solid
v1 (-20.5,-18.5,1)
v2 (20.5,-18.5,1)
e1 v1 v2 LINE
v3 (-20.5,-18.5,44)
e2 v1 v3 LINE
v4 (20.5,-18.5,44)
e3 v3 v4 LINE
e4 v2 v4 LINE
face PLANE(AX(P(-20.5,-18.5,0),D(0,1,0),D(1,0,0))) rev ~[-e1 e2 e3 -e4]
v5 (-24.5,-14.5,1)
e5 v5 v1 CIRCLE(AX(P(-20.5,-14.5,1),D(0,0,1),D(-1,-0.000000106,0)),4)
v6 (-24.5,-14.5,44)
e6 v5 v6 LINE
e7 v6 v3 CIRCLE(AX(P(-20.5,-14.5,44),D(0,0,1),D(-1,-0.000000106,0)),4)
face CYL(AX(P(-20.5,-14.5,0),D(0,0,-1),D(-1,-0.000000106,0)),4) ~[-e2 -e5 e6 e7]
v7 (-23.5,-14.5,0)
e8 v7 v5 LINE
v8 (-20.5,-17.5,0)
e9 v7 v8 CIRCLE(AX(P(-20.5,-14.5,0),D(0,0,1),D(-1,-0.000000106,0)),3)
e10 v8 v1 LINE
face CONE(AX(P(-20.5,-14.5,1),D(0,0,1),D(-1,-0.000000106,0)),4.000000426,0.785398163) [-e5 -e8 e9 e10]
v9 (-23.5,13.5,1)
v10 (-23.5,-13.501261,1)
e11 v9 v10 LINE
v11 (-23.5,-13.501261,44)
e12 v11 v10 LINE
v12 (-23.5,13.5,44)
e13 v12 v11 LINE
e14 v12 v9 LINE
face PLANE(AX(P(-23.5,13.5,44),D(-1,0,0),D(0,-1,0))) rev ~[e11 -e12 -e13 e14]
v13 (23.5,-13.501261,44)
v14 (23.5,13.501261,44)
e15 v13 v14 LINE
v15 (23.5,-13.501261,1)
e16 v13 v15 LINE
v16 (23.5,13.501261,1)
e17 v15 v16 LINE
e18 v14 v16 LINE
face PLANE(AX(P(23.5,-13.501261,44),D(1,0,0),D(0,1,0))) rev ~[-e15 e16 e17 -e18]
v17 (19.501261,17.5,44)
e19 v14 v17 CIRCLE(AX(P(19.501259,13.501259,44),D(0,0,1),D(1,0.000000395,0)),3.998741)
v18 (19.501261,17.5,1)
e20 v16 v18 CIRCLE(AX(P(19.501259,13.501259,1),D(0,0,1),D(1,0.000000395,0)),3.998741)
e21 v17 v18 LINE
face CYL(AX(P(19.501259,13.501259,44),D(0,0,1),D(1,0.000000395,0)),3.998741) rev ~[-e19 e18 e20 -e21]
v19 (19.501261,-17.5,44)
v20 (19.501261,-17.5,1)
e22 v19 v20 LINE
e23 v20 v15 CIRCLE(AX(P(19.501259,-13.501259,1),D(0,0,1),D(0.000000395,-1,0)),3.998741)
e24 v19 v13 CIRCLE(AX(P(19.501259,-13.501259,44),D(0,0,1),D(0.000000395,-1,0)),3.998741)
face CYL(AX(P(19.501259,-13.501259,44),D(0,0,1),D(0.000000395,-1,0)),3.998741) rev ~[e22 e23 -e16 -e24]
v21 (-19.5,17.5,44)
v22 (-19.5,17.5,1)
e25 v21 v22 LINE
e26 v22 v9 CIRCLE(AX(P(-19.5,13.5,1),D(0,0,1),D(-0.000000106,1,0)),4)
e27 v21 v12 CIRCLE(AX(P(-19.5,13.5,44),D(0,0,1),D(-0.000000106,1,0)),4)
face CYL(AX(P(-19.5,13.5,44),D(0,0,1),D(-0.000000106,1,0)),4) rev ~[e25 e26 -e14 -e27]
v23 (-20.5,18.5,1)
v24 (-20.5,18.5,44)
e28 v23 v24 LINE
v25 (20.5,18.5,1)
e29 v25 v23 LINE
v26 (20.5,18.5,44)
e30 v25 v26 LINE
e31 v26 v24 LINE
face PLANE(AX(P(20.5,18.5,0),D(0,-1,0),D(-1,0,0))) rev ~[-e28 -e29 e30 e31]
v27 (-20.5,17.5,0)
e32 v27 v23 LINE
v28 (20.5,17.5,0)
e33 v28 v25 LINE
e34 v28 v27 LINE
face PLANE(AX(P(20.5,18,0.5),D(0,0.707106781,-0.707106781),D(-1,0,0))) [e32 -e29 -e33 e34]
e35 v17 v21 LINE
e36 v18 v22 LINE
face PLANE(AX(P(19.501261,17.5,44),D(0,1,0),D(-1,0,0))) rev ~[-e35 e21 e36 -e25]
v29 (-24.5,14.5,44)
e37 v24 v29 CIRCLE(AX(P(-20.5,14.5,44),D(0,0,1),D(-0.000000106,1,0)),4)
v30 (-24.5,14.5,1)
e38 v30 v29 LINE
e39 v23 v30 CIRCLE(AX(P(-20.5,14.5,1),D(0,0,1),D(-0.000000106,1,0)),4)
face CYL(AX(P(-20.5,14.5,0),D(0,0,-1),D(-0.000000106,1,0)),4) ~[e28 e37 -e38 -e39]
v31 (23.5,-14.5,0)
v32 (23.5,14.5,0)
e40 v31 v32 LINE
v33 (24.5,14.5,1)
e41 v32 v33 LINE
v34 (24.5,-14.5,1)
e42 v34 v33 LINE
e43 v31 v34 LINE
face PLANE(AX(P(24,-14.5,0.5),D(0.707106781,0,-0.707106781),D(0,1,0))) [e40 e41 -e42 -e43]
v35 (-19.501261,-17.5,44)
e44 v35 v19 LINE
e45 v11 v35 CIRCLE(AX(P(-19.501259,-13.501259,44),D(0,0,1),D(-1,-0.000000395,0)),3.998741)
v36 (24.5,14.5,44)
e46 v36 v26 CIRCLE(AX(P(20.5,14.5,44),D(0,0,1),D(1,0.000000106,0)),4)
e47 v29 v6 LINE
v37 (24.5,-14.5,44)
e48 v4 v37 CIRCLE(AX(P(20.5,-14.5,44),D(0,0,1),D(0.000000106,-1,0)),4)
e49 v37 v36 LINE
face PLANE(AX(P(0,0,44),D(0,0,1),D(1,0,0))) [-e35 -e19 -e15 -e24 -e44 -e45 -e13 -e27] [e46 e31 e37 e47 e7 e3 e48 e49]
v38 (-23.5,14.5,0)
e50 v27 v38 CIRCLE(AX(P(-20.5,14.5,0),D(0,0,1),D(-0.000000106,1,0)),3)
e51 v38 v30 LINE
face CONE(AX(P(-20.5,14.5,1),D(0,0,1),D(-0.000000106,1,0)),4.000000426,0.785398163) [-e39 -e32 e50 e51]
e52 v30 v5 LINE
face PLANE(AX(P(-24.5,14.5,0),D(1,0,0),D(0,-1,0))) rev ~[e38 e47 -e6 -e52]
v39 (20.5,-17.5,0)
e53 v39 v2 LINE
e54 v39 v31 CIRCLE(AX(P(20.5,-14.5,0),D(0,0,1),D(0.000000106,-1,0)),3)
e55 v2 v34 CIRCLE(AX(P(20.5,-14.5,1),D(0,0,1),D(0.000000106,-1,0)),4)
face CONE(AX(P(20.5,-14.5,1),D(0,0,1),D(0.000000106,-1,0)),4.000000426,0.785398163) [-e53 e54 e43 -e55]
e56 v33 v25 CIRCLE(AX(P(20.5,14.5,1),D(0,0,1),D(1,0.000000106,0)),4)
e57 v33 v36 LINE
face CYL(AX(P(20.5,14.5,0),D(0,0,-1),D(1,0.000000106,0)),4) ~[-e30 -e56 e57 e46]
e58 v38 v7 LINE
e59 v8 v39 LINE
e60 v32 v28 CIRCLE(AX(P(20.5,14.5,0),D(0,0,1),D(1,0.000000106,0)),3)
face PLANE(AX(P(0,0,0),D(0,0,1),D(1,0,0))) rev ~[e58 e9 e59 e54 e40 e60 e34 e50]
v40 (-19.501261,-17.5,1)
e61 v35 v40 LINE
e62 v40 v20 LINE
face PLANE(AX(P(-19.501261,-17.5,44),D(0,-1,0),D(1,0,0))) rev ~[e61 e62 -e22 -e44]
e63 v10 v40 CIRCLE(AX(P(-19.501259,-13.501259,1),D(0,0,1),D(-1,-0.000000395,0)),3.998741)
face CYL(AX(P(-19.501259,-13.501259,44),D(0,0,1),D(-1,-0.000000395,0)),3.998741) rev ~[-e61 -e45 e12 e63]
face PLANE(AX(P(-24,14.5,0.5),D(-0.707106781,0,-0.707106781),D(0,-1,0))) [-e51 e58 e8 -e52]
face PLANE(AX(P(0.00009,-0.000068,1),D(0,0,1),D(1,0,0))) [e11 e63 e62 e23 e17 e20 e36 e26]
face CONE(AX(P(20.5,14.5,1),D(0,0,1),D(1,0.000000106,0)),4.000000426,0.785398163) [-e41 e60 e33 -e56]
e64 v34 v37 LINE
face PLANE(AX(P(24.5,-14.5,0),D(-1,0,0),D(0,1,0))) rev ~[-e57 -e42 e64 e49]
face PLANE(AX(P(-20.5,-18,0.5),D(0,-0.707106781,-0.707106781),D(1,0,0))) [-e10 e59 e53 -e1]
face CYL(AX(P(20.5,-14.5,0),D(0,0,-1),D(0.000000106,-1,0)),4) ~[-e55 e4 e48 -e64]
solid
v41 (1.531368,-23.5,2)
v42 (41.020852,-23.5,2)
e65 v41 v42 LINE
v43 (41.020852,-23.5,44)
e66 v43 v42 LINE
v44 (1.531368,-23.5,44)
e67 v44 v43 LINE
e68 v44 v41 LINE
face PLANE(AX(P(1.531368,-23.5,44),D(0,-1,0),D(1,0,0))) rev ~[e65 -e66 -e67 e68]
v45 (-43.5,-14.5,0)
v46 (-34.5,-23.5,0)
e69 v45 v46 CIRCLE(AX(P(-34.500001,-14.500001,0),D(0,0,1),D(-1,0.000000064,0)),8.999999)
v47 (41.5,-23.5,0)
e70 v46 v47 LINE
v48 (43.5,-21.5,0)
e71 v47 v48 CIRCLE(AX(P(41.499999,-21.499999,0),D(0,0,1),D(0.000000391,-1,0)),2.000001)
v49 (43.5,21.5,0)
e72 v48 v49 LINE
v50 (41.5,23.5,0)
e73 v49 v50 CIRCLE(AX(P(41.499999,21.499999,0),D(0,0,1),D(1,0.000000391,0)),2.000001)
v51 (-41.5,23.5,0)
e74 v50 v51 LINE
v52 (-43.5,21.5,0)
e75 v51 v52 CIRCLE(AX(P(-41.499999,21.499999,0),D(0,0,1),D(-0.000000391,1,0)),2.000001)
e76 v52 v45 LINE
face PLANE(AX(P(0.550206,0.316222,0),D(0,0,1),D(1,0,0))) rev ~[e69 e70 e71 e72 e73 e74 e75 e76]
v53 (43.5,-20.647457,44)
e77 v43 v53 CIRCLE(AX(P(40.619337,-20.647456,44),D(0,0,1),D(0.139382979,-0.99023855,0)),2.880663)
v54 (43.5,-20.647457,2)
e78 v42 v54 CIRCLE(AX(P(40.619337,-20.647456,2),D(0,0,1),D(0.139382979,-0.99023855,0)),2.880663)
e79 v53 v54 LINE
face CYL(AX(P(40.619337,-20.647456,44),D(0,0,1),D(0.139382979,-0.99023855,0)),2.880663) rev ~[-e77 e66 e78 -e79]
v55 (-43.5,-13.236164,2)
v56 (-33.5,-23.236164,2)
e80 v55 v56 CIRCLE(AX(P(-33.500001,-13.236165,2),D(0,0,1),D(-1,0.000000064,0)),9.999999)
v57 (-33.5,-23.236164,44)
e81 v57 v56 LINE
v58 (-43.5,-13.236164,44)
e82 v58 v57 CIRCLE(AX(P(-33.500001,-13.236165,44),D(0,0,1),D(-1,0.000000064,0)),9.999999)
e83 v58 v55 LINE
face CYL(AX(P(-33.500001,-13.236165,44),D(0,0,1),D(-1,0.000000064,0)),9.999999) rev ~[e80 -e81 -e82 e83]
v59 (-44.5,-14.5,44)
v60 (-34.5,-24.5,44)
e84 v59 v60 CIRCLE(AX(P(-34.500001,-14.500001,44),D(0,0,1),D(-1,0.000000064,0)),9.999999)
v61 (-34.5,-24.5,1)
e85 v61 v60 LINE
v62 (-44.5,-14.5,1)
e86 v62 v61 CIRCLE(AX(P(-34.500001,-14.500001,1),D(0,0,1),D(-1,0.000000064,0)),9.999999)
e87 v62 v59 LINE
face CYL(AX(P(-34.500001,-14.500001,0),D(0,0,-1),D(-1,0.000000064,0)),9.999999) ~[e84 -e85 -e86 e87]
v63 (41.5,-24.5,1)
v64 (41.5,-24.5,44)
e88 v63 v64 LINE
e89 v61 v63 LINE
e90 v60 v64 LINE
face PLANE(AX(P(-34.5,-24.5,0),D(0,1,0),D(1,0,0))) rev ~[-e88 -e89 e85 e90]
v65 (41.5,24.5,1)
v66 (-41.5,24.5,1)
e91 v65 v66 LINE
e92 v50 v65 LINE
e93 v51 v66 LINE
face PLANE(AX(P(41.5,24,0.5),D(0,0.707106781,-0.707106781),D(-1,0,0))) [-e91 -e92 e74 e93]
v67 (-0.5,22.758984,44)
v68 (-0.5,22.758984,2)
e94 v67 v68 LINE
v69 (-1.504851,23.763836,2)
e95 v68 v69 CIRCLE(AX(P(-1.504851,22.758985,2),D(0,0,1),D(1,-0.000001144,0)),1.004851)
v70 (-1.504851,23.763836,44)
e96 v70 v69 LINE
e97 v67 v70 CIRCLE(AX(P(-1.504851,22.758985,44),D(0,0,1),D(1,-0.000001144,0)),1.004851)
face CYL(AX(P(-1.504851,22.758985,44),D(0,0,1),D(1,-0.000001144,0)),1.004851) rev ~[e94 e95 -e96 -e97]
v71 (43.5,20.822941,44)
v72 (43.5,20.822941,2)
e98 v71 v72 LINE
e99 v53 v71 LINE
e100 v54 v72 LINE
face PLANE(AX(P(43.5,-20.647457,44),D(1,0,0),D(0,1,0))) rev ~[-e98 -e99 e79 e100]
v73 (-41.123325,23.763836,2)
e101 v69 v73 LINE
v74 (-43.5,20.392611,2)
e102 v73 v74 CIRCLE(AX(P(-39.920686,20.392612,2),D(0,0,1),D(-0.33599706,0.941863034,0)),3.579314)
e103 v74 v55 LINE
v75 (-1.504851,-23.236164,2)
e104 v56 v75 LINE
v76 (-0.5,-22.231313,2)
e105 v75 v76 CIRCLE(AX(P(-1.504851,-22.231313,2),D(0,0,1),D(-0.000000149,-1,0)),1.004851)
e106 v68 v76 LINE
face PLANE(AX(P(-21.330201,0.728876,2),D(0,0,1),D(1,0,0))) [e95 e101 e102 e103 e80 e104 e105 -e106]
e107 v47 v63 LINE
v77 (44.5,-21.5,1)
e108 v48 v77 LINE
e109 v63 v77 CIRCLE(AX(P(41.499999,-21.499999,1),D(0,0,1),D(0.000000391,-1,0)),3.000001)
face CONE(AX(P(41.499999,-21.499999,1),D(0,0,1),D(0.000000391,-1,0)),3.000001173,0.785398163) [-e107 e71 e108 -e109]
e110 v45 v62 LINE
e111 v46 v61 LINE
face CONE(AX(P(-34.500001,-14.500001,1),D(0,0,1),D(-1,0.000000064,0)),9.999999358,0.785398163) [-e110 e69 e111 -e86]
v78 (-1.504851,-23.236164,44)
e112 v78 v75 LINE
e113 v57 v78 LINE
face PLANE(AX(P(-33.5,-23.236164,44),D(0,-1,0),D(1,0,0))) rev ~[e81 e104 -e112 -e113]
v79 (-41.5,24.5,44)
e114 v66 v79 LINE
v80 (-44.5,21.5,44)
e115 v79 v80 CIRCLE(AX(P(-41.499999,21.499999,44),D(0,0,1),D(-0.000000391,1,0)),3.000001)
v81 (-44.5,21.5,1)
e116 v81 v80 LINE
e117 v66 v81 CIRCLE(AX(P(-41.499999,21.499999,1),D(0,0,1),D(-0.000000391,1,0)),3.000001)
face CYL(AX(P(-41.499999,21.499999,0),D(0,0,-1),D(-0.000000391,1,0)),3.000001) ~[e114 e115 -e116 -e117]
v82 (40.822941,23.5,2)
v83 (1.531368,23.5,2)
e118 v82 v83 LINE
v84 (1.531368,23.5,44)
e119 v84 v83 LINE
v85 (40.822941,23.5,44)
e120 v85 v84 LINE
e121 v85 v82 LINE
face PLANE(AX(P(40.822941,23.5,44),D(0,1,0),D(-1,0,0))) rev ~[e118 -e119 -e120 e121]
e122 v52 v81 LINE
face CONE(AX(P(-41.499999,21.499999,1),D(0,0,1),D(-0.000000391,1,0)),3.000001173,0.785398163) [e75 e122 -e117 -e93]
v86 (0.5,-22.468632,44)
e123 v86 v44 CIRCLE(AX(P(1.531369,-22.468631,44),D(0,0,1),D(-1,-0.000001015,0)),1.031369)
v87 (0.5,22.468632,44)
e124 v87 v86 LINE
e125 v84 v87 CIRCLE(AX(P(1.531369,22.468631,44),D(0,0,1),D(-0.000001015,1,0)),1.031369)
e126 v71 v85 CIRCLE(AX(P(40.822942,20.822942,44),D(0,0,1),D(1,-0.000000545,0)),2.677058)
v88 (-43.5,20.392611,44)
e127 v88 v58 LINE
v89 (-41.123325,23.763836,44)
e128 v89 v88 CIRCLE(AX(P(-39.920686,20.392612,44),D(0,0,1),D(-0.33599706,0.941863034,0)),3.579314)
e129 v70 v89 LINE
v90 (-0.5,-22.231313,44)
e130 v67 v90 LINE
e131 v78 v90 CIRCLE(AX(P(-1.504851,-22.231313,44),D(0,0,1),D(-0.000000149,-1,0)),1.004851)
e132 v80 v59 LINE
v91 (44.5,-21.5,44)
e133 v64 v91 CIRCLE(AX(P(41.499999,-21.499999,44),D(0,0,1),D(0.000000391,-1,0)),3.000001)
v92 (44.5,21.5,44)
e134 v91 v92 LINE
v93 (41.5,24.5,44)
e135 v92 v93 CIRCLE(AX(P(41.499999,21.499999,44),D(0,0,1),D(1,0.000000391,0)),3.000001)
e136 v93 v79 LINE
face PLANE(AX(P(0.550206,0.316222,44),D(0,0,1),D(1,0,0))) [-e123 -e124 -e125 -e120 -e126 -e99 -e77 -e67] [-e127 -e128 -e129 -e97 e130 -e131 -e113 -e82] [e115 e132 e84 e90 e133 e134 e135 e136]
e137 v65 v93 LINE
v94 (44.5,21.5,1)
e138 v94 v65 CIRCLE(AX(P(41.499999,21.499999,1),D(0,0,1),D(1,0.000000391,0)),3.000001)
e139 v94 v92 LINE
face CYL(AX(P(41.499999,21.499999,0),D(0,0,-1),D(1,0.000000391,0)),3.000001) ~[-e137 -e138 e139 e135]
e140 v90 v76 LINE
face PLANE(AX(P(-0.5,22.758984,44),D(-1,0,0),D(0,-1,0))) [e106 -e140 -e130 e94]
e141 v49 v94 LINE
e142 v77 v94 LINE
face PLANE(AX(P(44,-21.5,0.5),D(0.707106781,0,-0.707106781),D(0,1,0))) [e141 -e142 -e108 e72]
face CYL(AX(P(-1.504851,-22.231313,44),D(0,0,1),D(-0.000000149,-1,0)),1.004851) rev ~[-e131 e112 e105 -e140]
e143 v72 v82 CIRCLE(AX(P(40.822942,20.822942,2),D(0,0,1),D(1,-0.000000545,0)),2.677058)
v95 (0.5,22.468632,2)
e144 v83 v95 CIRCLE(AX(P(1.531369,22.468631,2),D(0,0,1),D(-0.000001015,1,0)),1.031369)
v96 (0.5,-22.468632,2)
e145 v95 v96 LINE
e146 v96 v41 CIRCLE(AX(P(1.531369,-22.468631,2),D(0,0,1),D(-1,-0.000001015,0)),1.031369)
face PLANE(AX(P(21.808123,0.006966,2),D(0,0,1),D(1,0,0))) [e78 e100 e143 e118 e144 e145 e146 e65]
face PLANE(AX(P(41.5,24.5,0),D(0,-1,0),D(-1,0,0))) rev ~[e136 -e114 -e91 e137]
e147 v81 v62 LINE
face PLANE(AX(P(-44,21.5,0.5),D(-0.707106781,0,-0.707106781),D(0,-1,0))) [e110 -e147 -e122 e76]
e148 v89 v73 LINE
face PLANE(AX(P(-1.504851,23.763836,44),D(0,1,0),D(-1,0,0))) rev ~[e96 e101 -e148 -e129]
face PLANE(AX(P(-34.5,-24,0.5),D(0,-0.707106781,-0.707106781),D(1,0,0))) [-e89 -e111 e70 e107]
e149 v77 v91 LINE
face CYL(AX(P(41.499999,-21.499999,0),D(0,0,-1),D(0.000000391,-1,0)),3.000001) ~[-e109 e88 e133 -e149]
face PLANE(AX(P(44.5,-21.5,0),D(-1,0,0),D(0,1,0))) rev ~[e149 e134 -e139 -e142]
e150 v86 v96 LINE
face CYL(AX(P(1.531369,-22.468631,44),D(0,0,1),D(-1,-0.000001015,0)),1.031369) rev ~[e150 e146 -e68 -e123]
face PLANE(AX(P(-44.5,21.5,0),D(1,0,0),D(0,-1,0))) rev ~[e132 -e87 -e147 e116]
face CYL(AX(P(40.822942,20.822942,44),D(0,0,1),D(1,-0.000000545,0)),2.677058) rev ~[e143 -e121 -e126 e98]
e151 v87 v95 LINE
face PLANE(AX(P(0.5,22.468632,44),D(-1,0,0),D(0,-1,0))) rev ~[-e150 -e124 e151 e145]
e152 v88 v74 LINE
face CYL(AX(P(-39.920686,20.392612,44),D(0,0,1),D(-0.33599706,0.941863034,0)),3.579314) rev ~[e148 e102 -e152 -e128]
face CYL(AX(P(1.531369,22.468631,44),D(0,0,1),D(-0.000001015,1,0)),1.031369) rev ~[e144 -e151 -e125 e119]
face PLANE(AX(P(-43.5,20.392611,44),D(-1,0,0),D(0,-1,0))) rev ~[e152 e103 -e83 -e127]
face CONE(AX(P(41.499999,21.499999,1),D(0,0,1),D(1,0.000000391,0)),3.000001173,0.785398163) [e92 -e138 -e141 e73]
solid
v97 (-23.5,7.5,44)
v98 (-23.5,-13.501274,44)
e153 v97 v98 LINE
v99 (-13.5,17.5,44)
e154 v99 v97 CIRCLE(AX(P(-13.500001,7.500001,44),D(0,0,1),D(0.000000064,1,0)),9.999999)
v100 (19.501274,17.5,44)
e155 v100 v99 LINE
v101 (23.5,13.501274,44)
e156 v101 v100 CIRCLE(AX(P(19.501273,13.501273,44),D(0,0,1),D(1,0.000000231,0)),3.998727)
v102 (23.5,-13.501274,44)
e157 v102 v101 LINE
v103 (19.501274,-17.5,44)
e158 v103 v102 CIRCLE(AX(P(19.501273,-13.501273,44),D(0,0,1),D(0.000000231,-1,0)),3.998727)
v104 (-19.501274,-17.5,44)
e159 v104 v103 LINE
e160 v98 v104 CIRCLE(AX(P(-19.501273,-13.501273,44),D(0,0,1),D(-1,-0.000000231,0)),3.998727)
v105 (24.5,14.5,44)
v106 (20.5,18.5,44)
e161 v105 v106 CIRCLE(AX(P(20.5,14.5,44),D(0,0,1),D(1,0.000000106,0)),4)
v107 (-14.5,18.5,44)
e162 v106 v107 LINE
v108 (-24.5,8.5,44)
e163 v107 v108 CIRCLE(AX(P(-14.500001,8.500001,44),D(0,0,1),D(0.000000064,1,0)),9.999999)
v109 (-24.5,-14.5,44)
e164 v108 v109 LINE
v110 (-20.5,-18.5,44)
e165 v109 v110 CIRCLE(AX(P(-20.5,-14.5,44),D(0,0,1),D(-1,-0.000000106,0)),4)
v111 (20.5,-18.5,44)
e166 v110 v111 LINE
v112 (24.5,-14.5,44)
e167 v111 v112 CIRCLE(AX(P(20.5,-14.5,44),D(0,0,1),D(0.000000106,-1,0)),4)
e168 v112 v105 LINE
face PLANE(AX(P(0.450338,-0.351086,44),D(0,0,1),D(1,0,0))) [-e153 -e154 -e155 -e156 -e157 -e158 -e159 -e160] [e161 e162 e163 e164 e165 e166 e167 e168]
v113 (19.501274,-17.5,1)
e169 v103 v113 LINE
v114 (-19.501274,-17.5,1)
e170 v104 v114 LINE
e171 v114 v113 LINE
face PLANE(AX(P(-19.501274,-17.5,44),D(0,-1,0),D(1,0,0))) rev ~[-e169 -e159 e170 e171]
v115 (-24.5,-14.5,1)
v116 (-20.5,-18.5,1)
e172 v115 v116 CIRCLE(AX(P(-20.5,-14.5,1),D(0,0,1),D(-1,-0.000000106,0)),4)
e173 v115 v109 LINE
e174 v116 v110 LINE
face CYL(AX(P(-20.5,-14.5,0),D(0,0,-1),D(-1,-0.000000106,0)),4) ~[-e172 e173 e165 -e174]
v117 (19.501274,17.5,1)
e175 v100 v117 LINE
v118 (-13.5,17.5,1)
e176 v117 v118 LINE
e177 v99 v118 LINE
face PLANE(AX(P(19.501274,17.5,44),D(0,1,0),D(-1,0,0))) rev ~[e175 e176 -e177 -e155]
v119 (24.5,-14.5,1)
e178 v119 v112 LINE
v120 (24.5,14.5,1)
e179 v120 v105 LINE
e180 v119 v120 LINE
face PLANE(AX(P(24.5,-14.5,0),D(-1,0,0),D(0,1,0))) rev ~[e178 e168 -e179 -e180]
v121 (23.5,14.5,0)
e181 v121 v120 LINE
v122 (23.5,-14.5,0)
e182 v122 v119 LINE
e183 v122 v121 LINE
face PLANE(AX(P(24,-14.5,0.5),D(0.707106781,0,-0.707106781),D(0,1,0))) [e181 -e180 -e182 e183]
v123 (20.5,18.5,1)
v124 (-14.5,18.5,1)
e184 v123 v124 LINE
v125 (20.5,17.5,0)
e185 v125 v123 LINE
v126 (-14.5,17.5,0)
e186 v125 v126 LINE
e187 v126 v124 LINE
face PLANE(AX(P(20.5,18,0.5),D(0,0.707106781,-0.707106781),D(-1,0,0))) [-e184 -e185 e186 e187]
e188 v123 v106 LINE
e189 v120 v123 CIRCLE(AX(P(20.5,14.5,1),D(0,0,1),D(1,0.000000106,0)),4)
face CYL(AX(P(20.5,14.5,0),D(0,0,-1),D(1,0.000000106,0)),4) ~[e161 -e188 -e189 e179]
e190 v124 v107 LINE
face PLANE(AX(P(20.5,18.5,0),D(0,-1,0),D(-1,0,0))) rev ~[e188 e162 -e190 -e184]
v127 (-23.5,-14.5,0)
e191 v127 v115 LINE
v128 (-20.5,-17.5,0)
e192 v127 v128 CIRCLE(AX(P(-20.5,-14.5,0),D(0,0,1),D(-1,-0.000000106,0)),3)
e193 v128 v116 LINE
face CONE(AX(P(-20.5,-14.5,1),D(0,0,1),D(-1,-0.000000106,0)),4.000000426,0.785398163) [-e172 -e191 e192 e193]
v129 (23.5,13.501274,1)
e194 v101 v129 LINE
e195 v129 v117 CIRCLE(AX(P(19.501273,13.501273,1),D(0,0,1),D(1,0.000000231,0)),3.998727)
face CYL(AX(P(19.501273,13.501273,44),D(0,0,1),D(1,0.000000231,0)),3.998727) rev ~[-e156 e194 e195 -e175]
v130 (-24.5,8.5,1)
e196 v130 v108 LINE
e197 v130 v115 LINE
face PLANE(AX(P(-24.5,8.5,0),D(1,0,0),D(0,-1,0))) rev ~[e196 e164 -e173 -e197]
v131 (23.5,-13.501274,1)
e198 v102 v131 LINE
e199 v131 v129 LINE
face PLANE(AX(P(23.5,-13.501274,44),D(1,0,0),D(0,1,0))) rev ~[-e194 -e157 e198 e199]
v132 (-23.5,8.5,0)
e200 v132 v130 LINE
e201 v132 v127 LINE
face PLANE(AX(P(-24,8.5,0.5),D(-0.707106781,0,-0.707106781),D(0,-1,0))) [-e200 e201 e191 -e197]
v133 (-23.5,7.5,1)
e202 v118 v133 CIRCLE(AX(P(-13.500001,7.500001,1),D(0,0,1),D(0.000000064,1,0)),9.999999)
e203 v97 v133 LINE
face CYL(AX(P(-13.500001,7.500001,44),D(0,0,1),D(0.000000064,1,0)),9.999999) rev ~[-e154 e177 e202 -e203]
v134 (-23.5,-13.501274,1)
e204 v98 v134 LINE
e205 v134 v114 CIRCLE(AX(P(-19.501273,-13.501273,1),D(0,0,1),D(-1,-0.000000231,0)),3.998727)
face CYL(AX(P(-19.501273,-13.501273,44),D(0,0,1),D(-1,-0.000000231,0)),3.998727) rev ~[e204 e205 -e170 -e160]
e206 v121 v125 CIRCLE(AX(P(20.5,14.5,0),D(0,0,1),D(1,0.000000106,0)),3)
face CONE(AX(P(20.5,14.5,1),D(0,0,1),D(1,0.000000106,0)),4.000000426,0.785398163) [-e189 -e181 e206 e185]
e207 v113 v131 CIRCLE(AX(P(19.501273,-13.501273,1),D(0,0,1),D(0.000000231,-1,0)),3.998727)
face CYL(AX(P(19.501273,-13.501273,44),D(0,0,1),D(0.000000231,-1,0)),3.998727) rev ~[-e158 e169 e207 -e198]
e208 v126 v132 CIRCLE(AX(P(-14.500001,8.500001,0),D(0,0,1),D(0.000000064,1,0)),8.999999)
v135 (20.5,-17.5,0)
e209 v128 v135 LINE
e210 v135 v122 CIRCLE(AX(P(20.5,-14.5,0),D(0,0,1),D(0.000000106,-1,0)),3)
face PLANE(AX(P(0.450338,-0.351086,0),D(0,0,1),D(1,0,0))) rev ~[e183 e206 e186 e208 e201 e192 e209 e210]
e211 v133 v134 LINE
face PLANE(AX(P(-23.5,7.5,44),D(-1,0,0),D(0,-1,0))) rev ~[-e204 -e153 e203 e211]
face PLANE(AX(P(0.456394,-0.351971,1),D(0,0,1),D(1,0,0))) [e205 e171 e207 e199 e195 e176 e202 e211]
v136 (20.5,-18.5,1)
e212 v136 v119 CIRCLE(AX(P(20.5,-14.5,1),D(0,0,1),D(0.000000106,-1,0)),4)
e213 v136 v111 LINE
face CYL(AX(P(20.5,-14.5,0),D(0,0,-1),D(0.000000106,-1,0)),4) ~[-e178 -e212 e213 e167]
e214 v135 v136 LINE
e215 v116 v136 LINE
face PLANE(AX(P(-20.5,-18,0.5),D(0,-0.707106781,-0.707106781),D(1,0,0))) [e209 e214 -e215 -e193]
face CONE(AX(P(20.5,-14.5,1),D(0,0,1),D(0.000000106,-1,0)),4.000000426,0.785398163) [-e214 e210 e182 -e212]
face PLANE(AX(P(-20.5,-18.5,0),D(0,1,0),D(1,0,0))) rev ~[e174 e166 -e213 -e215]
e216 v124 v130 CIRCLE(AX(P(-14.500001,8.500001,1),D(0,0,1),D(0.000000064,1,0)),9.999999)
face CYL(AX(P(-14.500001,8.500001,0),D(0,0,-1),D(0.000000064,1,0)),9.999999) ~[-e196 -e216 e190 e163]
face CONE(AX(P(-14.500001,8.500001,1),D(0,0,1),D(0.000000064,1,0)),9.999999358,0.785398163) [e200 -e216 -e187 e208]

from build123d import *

# Parameters (mm, degrees)
PAD_DEPTH       = 44
POCKET_DEPTH    = 43
CHAMFER_SIZE    = 1
PAD001_DEPTH    = 44
POCKET001_DEPTH = 42
CHAMFER001_SIZE = 1
PAD002_DEPTH    = 44
POCKET002_DEPTH = 43
CHAMFER002_SIZE = 1


with BuildPart() as body:
    # Sketch → Pad (new body)
    with BuildSketch(Plane.XY):
        with BuildLine():
            Line((-24.5, 8.5), (-24.5, -14.5))
            ThreePointArc((-24.5, -14.5), (-23.328427, -17.328427), (-20.5, -18.5))
            Line((-20.5, -18.5), (20.5, -18.5))
            ThreePointArc((20.5, -18.5), (23.328427, -17.328427), (24.5, -14.5))
            Line((24.5, -14.5), (24.5, 14.5))
            ThreePointArc((24.5, 14.5), (23.328427, 17.328427), (20.5, 18.5))
            Line((20.5, 18.5), (-14.5, 18.5))
            ThreePointArc((-14.5, 18.5), (-21.571068, 15.571068), (-24.5, 8.5))
        make_face()
    extrude(amount=PAD_DEPTH)

    # Sketch001 (on Face10 of Pad) → Pocket (cut)
    with BuildSketch(Plane.XY.offset(44)):
        with BuildLine():
            Line((-23.5, 7.5), (-23.5, -13.501274))
            ThreePointArc((-23.5, -13.501274), (-22.3288, -16.3288), (-19.501274, -17.5))
            Line((-19.501274, -17.5), (19.501274, -17.5))
            ThreePointArc((19.501274, -17.5), (22.3288, -16.3288), (23.5, -13.501274))
            Line((23.5, -13.501274), (23.5, 13.501274))
            ThreePointArc((23.5, 13.501274), (22.3288, 16.3288), (19.501274, 17.5))
            Line((19.501274, 17.5), (-13.5, 17.5))
            ThreePointArc((-13.5, 17.5), (-20.571068, 14.571068), (-23.5, 7.5))
        make_face()
    extrude(amount=-POCKET_DEPTH, mode=Mode.SUBTRACT)

    # Chamfer
    chamfer_edges = [body.edges().sort_by_distance(p)[0] for p in [
        (0, -18.5, 0),
        (23.328427, -17.328427, 0),
        (24.5, 0, 0),
        (23.328427, 17.328427, 0),
        (3, 18.5, 0),
        (-21.571068, 15.571068, 0),
        (-24.5, -3, 0),
        (-23.328427, -17.328427, 0),
    ]]
    chamfer(chamfer_edges, length=CHAMFER_SIZE)


with BuildPart() as body001:
    # Sketch002 → Pad001 (new body)
    with BuildSketch(Plane.XY):
        with BuildLine():
            Line((-44.5, 21.5), (-44.5, -14.5))
            ThreePointArc((-44.5, -14.5), (-41.571068, -21.571068), (-34.5, -24.5))
            Line((-34.5, -24.5), (41.5, -24.5))
            ThreePointArc((41.5, -24.5), (43.62132, -23.62132), (44.5, -21.5))
            Line((44.5, -21.5), (44.5, 21.5))
            ThreePointArc((44.5, 21.5), (43.62132, 23.62132), (41.5, 24.5))
            Line((41.5, 24.5), (-41.5, 24.5))
            ThreePointArc((-41.5, 24.5), (-43.62132, 23.62132), (-44.5, 21.5))
        make_face()
    extrude(amount=PAD001_DEPTH)

    # Sketch003 (on Face10 of Pad001) → Pocket001 (cut)
    with BuildSketch(Plane.XY.offset(44)):
        with BuildLine():
            Line((-43.5, 20.392611), (-43.5, -13.236164))
            ThreePointArc((-43.5, -13.236164), (-40.571068, -20.307232), (-33.5, -23.236164))
            Line((-33.5, -23.236164), (-1.504851, -23.236164))
            ThreePointArc((-1.504851, -23.236164), (-0.794314, -22.94185), (-0.5, -22.231313))
            Line((-0.5, 22.758984), (-0.5, -22.231313))
            ThreePointArc((-0.5, 22.758984), (-0.794314, 23.469522), (-1.504851, 23.763836))
            Line((-1.504851, 23.763836), (-41.123325, 23.763836))
            ThreePointArc((-41.123325, 23.763836), (-42.846102, 22.454997), (-43.5, 20.392611))
        make_face()
        with BuildLine():
            Line((43.5, -20.647457), (43.5, 20.822941))
            ThreePointArc((43.5, 20.822941), (42.715908, 22.715908), (40.822941, 23.5))
            Line((40.822941, 23.5), (1.531368, 23.5))
            ThreePointArc((1.531368, 23.5), (0.802081, 23.197919), (0.5, 22.468632))
            Line((0.5, 22.468632), (0.5, -22.468632))
            ThreePointArc((0.5, -22.468632), (0.802081, -23.197919), (1.531368, -23.5))
            Line((1.531368, -23.5), (41.020852, -23.5))
            ThreePointArc((41.020852, -23.5), (42.793601, -22.537111), (43.5, -20.647457))
        make_face()
    extrude(amount=-POCKET001_DEPTH, mode=Mode.SUBTRACT)

    # Chamfer001
    chamfer001_edges = [body001.edges().sort_by_distance(p)[0] for p in [
        (3.5, -24.5, 0),
        (43.62132, -23.62132, 0),
        (44.5, 0, 0),
        (43.62132, 23.62132, 0),
        (0, 24.5, 0),
        (-44.5, 3.5, 0),
        (-41.571068, -21.571068, 0),
        (-43.62132, 23.62132, 0),
    ]]
    chamfer(chamfer001_edges, length=CHAMFER001_SIZE)


with BuildPart() as body002:
    # Sketch004 → Pad002 (new body)
    with BuildSketch(Plane.XY):
        with BuildLine():
            Line((-24.5, 14.5), (-24.5, -14.5))
            ThreePointArc((-24.5, -14.5), (-23.328427, -17.328427), (-20.5, -18.5))
            Line((-20.5, -18.5), (20.5, -18.5))
            ThreePointArc((20.5, -18.5), (23.328427, -17.328427), (24.5, -14.5))
            Line((24.5, -14.5), (24.5, 14.5))
            ThreePointArc((24.5, 14.5), (23.328427, 17.328427), (20.5, 18.5))
            Line((20.5, 18.5), (-20.5, 18.5))
            ThreePointArc((-20.5, 18.5), (-23.328427, 17.328427), (-24.5, 14.5))
        make_face()
    extrude(amount=PAD002_DEPTH)

    # Sketch005 (on Face10 of Pad002) → Pocket002 (cut)
    with BuildSketch(Plane.XY.offset(44)):
        with BuildLine():
            Line((-23.5, 13.5), (-23.5, -13.501261))
            ThreePointArc((-23.5, -13.501261), (-22.328796, -16.328796), (-19.501261, -17.5))
            Line((-19.501261, -17.5), (19.501261, -17.5))
            ThreePointArc((19.501261, -17.5), (22.328796, -16.328796), (23.5, -13.501261))
            Line((23.5, -13.501261), (23.5, 13.501261))
            ThreePointArc((23.5, 13.501261), (22.328796, 16.328796), (19.501261, 17.5))
            Line((19.501261, 17.5), (-19.5, 17.5))
            ThreePointArc((-19.5, 17.5), (-22.328427, 16.328427), (-23.5, 13.5))
        make_face()
    extrude(amount=-POCKET002_DEPTH, mode=Mode.SUBTRACT)

    # Chamfer002
    chamfer002_edges = [body002.edges().sort_by_distance(p)[0] for p in [
        (0, -18.5, 0),
        (23.328427, -17.328427, 0),
        (24.5, 0, 0),
        (23.328427, 17.328427, 0),
        (0, 18.5, 0),
        (-23.328427, 17.328427, 0),
        (-24.5, 0, 0),
        (-23.328427, -17.328427, 0),
    ]]
    chamfer(chamfer002_edges, length=CHAMFER002_SIZE)


solid = Compound([body.part, body001.part, body002.part])
